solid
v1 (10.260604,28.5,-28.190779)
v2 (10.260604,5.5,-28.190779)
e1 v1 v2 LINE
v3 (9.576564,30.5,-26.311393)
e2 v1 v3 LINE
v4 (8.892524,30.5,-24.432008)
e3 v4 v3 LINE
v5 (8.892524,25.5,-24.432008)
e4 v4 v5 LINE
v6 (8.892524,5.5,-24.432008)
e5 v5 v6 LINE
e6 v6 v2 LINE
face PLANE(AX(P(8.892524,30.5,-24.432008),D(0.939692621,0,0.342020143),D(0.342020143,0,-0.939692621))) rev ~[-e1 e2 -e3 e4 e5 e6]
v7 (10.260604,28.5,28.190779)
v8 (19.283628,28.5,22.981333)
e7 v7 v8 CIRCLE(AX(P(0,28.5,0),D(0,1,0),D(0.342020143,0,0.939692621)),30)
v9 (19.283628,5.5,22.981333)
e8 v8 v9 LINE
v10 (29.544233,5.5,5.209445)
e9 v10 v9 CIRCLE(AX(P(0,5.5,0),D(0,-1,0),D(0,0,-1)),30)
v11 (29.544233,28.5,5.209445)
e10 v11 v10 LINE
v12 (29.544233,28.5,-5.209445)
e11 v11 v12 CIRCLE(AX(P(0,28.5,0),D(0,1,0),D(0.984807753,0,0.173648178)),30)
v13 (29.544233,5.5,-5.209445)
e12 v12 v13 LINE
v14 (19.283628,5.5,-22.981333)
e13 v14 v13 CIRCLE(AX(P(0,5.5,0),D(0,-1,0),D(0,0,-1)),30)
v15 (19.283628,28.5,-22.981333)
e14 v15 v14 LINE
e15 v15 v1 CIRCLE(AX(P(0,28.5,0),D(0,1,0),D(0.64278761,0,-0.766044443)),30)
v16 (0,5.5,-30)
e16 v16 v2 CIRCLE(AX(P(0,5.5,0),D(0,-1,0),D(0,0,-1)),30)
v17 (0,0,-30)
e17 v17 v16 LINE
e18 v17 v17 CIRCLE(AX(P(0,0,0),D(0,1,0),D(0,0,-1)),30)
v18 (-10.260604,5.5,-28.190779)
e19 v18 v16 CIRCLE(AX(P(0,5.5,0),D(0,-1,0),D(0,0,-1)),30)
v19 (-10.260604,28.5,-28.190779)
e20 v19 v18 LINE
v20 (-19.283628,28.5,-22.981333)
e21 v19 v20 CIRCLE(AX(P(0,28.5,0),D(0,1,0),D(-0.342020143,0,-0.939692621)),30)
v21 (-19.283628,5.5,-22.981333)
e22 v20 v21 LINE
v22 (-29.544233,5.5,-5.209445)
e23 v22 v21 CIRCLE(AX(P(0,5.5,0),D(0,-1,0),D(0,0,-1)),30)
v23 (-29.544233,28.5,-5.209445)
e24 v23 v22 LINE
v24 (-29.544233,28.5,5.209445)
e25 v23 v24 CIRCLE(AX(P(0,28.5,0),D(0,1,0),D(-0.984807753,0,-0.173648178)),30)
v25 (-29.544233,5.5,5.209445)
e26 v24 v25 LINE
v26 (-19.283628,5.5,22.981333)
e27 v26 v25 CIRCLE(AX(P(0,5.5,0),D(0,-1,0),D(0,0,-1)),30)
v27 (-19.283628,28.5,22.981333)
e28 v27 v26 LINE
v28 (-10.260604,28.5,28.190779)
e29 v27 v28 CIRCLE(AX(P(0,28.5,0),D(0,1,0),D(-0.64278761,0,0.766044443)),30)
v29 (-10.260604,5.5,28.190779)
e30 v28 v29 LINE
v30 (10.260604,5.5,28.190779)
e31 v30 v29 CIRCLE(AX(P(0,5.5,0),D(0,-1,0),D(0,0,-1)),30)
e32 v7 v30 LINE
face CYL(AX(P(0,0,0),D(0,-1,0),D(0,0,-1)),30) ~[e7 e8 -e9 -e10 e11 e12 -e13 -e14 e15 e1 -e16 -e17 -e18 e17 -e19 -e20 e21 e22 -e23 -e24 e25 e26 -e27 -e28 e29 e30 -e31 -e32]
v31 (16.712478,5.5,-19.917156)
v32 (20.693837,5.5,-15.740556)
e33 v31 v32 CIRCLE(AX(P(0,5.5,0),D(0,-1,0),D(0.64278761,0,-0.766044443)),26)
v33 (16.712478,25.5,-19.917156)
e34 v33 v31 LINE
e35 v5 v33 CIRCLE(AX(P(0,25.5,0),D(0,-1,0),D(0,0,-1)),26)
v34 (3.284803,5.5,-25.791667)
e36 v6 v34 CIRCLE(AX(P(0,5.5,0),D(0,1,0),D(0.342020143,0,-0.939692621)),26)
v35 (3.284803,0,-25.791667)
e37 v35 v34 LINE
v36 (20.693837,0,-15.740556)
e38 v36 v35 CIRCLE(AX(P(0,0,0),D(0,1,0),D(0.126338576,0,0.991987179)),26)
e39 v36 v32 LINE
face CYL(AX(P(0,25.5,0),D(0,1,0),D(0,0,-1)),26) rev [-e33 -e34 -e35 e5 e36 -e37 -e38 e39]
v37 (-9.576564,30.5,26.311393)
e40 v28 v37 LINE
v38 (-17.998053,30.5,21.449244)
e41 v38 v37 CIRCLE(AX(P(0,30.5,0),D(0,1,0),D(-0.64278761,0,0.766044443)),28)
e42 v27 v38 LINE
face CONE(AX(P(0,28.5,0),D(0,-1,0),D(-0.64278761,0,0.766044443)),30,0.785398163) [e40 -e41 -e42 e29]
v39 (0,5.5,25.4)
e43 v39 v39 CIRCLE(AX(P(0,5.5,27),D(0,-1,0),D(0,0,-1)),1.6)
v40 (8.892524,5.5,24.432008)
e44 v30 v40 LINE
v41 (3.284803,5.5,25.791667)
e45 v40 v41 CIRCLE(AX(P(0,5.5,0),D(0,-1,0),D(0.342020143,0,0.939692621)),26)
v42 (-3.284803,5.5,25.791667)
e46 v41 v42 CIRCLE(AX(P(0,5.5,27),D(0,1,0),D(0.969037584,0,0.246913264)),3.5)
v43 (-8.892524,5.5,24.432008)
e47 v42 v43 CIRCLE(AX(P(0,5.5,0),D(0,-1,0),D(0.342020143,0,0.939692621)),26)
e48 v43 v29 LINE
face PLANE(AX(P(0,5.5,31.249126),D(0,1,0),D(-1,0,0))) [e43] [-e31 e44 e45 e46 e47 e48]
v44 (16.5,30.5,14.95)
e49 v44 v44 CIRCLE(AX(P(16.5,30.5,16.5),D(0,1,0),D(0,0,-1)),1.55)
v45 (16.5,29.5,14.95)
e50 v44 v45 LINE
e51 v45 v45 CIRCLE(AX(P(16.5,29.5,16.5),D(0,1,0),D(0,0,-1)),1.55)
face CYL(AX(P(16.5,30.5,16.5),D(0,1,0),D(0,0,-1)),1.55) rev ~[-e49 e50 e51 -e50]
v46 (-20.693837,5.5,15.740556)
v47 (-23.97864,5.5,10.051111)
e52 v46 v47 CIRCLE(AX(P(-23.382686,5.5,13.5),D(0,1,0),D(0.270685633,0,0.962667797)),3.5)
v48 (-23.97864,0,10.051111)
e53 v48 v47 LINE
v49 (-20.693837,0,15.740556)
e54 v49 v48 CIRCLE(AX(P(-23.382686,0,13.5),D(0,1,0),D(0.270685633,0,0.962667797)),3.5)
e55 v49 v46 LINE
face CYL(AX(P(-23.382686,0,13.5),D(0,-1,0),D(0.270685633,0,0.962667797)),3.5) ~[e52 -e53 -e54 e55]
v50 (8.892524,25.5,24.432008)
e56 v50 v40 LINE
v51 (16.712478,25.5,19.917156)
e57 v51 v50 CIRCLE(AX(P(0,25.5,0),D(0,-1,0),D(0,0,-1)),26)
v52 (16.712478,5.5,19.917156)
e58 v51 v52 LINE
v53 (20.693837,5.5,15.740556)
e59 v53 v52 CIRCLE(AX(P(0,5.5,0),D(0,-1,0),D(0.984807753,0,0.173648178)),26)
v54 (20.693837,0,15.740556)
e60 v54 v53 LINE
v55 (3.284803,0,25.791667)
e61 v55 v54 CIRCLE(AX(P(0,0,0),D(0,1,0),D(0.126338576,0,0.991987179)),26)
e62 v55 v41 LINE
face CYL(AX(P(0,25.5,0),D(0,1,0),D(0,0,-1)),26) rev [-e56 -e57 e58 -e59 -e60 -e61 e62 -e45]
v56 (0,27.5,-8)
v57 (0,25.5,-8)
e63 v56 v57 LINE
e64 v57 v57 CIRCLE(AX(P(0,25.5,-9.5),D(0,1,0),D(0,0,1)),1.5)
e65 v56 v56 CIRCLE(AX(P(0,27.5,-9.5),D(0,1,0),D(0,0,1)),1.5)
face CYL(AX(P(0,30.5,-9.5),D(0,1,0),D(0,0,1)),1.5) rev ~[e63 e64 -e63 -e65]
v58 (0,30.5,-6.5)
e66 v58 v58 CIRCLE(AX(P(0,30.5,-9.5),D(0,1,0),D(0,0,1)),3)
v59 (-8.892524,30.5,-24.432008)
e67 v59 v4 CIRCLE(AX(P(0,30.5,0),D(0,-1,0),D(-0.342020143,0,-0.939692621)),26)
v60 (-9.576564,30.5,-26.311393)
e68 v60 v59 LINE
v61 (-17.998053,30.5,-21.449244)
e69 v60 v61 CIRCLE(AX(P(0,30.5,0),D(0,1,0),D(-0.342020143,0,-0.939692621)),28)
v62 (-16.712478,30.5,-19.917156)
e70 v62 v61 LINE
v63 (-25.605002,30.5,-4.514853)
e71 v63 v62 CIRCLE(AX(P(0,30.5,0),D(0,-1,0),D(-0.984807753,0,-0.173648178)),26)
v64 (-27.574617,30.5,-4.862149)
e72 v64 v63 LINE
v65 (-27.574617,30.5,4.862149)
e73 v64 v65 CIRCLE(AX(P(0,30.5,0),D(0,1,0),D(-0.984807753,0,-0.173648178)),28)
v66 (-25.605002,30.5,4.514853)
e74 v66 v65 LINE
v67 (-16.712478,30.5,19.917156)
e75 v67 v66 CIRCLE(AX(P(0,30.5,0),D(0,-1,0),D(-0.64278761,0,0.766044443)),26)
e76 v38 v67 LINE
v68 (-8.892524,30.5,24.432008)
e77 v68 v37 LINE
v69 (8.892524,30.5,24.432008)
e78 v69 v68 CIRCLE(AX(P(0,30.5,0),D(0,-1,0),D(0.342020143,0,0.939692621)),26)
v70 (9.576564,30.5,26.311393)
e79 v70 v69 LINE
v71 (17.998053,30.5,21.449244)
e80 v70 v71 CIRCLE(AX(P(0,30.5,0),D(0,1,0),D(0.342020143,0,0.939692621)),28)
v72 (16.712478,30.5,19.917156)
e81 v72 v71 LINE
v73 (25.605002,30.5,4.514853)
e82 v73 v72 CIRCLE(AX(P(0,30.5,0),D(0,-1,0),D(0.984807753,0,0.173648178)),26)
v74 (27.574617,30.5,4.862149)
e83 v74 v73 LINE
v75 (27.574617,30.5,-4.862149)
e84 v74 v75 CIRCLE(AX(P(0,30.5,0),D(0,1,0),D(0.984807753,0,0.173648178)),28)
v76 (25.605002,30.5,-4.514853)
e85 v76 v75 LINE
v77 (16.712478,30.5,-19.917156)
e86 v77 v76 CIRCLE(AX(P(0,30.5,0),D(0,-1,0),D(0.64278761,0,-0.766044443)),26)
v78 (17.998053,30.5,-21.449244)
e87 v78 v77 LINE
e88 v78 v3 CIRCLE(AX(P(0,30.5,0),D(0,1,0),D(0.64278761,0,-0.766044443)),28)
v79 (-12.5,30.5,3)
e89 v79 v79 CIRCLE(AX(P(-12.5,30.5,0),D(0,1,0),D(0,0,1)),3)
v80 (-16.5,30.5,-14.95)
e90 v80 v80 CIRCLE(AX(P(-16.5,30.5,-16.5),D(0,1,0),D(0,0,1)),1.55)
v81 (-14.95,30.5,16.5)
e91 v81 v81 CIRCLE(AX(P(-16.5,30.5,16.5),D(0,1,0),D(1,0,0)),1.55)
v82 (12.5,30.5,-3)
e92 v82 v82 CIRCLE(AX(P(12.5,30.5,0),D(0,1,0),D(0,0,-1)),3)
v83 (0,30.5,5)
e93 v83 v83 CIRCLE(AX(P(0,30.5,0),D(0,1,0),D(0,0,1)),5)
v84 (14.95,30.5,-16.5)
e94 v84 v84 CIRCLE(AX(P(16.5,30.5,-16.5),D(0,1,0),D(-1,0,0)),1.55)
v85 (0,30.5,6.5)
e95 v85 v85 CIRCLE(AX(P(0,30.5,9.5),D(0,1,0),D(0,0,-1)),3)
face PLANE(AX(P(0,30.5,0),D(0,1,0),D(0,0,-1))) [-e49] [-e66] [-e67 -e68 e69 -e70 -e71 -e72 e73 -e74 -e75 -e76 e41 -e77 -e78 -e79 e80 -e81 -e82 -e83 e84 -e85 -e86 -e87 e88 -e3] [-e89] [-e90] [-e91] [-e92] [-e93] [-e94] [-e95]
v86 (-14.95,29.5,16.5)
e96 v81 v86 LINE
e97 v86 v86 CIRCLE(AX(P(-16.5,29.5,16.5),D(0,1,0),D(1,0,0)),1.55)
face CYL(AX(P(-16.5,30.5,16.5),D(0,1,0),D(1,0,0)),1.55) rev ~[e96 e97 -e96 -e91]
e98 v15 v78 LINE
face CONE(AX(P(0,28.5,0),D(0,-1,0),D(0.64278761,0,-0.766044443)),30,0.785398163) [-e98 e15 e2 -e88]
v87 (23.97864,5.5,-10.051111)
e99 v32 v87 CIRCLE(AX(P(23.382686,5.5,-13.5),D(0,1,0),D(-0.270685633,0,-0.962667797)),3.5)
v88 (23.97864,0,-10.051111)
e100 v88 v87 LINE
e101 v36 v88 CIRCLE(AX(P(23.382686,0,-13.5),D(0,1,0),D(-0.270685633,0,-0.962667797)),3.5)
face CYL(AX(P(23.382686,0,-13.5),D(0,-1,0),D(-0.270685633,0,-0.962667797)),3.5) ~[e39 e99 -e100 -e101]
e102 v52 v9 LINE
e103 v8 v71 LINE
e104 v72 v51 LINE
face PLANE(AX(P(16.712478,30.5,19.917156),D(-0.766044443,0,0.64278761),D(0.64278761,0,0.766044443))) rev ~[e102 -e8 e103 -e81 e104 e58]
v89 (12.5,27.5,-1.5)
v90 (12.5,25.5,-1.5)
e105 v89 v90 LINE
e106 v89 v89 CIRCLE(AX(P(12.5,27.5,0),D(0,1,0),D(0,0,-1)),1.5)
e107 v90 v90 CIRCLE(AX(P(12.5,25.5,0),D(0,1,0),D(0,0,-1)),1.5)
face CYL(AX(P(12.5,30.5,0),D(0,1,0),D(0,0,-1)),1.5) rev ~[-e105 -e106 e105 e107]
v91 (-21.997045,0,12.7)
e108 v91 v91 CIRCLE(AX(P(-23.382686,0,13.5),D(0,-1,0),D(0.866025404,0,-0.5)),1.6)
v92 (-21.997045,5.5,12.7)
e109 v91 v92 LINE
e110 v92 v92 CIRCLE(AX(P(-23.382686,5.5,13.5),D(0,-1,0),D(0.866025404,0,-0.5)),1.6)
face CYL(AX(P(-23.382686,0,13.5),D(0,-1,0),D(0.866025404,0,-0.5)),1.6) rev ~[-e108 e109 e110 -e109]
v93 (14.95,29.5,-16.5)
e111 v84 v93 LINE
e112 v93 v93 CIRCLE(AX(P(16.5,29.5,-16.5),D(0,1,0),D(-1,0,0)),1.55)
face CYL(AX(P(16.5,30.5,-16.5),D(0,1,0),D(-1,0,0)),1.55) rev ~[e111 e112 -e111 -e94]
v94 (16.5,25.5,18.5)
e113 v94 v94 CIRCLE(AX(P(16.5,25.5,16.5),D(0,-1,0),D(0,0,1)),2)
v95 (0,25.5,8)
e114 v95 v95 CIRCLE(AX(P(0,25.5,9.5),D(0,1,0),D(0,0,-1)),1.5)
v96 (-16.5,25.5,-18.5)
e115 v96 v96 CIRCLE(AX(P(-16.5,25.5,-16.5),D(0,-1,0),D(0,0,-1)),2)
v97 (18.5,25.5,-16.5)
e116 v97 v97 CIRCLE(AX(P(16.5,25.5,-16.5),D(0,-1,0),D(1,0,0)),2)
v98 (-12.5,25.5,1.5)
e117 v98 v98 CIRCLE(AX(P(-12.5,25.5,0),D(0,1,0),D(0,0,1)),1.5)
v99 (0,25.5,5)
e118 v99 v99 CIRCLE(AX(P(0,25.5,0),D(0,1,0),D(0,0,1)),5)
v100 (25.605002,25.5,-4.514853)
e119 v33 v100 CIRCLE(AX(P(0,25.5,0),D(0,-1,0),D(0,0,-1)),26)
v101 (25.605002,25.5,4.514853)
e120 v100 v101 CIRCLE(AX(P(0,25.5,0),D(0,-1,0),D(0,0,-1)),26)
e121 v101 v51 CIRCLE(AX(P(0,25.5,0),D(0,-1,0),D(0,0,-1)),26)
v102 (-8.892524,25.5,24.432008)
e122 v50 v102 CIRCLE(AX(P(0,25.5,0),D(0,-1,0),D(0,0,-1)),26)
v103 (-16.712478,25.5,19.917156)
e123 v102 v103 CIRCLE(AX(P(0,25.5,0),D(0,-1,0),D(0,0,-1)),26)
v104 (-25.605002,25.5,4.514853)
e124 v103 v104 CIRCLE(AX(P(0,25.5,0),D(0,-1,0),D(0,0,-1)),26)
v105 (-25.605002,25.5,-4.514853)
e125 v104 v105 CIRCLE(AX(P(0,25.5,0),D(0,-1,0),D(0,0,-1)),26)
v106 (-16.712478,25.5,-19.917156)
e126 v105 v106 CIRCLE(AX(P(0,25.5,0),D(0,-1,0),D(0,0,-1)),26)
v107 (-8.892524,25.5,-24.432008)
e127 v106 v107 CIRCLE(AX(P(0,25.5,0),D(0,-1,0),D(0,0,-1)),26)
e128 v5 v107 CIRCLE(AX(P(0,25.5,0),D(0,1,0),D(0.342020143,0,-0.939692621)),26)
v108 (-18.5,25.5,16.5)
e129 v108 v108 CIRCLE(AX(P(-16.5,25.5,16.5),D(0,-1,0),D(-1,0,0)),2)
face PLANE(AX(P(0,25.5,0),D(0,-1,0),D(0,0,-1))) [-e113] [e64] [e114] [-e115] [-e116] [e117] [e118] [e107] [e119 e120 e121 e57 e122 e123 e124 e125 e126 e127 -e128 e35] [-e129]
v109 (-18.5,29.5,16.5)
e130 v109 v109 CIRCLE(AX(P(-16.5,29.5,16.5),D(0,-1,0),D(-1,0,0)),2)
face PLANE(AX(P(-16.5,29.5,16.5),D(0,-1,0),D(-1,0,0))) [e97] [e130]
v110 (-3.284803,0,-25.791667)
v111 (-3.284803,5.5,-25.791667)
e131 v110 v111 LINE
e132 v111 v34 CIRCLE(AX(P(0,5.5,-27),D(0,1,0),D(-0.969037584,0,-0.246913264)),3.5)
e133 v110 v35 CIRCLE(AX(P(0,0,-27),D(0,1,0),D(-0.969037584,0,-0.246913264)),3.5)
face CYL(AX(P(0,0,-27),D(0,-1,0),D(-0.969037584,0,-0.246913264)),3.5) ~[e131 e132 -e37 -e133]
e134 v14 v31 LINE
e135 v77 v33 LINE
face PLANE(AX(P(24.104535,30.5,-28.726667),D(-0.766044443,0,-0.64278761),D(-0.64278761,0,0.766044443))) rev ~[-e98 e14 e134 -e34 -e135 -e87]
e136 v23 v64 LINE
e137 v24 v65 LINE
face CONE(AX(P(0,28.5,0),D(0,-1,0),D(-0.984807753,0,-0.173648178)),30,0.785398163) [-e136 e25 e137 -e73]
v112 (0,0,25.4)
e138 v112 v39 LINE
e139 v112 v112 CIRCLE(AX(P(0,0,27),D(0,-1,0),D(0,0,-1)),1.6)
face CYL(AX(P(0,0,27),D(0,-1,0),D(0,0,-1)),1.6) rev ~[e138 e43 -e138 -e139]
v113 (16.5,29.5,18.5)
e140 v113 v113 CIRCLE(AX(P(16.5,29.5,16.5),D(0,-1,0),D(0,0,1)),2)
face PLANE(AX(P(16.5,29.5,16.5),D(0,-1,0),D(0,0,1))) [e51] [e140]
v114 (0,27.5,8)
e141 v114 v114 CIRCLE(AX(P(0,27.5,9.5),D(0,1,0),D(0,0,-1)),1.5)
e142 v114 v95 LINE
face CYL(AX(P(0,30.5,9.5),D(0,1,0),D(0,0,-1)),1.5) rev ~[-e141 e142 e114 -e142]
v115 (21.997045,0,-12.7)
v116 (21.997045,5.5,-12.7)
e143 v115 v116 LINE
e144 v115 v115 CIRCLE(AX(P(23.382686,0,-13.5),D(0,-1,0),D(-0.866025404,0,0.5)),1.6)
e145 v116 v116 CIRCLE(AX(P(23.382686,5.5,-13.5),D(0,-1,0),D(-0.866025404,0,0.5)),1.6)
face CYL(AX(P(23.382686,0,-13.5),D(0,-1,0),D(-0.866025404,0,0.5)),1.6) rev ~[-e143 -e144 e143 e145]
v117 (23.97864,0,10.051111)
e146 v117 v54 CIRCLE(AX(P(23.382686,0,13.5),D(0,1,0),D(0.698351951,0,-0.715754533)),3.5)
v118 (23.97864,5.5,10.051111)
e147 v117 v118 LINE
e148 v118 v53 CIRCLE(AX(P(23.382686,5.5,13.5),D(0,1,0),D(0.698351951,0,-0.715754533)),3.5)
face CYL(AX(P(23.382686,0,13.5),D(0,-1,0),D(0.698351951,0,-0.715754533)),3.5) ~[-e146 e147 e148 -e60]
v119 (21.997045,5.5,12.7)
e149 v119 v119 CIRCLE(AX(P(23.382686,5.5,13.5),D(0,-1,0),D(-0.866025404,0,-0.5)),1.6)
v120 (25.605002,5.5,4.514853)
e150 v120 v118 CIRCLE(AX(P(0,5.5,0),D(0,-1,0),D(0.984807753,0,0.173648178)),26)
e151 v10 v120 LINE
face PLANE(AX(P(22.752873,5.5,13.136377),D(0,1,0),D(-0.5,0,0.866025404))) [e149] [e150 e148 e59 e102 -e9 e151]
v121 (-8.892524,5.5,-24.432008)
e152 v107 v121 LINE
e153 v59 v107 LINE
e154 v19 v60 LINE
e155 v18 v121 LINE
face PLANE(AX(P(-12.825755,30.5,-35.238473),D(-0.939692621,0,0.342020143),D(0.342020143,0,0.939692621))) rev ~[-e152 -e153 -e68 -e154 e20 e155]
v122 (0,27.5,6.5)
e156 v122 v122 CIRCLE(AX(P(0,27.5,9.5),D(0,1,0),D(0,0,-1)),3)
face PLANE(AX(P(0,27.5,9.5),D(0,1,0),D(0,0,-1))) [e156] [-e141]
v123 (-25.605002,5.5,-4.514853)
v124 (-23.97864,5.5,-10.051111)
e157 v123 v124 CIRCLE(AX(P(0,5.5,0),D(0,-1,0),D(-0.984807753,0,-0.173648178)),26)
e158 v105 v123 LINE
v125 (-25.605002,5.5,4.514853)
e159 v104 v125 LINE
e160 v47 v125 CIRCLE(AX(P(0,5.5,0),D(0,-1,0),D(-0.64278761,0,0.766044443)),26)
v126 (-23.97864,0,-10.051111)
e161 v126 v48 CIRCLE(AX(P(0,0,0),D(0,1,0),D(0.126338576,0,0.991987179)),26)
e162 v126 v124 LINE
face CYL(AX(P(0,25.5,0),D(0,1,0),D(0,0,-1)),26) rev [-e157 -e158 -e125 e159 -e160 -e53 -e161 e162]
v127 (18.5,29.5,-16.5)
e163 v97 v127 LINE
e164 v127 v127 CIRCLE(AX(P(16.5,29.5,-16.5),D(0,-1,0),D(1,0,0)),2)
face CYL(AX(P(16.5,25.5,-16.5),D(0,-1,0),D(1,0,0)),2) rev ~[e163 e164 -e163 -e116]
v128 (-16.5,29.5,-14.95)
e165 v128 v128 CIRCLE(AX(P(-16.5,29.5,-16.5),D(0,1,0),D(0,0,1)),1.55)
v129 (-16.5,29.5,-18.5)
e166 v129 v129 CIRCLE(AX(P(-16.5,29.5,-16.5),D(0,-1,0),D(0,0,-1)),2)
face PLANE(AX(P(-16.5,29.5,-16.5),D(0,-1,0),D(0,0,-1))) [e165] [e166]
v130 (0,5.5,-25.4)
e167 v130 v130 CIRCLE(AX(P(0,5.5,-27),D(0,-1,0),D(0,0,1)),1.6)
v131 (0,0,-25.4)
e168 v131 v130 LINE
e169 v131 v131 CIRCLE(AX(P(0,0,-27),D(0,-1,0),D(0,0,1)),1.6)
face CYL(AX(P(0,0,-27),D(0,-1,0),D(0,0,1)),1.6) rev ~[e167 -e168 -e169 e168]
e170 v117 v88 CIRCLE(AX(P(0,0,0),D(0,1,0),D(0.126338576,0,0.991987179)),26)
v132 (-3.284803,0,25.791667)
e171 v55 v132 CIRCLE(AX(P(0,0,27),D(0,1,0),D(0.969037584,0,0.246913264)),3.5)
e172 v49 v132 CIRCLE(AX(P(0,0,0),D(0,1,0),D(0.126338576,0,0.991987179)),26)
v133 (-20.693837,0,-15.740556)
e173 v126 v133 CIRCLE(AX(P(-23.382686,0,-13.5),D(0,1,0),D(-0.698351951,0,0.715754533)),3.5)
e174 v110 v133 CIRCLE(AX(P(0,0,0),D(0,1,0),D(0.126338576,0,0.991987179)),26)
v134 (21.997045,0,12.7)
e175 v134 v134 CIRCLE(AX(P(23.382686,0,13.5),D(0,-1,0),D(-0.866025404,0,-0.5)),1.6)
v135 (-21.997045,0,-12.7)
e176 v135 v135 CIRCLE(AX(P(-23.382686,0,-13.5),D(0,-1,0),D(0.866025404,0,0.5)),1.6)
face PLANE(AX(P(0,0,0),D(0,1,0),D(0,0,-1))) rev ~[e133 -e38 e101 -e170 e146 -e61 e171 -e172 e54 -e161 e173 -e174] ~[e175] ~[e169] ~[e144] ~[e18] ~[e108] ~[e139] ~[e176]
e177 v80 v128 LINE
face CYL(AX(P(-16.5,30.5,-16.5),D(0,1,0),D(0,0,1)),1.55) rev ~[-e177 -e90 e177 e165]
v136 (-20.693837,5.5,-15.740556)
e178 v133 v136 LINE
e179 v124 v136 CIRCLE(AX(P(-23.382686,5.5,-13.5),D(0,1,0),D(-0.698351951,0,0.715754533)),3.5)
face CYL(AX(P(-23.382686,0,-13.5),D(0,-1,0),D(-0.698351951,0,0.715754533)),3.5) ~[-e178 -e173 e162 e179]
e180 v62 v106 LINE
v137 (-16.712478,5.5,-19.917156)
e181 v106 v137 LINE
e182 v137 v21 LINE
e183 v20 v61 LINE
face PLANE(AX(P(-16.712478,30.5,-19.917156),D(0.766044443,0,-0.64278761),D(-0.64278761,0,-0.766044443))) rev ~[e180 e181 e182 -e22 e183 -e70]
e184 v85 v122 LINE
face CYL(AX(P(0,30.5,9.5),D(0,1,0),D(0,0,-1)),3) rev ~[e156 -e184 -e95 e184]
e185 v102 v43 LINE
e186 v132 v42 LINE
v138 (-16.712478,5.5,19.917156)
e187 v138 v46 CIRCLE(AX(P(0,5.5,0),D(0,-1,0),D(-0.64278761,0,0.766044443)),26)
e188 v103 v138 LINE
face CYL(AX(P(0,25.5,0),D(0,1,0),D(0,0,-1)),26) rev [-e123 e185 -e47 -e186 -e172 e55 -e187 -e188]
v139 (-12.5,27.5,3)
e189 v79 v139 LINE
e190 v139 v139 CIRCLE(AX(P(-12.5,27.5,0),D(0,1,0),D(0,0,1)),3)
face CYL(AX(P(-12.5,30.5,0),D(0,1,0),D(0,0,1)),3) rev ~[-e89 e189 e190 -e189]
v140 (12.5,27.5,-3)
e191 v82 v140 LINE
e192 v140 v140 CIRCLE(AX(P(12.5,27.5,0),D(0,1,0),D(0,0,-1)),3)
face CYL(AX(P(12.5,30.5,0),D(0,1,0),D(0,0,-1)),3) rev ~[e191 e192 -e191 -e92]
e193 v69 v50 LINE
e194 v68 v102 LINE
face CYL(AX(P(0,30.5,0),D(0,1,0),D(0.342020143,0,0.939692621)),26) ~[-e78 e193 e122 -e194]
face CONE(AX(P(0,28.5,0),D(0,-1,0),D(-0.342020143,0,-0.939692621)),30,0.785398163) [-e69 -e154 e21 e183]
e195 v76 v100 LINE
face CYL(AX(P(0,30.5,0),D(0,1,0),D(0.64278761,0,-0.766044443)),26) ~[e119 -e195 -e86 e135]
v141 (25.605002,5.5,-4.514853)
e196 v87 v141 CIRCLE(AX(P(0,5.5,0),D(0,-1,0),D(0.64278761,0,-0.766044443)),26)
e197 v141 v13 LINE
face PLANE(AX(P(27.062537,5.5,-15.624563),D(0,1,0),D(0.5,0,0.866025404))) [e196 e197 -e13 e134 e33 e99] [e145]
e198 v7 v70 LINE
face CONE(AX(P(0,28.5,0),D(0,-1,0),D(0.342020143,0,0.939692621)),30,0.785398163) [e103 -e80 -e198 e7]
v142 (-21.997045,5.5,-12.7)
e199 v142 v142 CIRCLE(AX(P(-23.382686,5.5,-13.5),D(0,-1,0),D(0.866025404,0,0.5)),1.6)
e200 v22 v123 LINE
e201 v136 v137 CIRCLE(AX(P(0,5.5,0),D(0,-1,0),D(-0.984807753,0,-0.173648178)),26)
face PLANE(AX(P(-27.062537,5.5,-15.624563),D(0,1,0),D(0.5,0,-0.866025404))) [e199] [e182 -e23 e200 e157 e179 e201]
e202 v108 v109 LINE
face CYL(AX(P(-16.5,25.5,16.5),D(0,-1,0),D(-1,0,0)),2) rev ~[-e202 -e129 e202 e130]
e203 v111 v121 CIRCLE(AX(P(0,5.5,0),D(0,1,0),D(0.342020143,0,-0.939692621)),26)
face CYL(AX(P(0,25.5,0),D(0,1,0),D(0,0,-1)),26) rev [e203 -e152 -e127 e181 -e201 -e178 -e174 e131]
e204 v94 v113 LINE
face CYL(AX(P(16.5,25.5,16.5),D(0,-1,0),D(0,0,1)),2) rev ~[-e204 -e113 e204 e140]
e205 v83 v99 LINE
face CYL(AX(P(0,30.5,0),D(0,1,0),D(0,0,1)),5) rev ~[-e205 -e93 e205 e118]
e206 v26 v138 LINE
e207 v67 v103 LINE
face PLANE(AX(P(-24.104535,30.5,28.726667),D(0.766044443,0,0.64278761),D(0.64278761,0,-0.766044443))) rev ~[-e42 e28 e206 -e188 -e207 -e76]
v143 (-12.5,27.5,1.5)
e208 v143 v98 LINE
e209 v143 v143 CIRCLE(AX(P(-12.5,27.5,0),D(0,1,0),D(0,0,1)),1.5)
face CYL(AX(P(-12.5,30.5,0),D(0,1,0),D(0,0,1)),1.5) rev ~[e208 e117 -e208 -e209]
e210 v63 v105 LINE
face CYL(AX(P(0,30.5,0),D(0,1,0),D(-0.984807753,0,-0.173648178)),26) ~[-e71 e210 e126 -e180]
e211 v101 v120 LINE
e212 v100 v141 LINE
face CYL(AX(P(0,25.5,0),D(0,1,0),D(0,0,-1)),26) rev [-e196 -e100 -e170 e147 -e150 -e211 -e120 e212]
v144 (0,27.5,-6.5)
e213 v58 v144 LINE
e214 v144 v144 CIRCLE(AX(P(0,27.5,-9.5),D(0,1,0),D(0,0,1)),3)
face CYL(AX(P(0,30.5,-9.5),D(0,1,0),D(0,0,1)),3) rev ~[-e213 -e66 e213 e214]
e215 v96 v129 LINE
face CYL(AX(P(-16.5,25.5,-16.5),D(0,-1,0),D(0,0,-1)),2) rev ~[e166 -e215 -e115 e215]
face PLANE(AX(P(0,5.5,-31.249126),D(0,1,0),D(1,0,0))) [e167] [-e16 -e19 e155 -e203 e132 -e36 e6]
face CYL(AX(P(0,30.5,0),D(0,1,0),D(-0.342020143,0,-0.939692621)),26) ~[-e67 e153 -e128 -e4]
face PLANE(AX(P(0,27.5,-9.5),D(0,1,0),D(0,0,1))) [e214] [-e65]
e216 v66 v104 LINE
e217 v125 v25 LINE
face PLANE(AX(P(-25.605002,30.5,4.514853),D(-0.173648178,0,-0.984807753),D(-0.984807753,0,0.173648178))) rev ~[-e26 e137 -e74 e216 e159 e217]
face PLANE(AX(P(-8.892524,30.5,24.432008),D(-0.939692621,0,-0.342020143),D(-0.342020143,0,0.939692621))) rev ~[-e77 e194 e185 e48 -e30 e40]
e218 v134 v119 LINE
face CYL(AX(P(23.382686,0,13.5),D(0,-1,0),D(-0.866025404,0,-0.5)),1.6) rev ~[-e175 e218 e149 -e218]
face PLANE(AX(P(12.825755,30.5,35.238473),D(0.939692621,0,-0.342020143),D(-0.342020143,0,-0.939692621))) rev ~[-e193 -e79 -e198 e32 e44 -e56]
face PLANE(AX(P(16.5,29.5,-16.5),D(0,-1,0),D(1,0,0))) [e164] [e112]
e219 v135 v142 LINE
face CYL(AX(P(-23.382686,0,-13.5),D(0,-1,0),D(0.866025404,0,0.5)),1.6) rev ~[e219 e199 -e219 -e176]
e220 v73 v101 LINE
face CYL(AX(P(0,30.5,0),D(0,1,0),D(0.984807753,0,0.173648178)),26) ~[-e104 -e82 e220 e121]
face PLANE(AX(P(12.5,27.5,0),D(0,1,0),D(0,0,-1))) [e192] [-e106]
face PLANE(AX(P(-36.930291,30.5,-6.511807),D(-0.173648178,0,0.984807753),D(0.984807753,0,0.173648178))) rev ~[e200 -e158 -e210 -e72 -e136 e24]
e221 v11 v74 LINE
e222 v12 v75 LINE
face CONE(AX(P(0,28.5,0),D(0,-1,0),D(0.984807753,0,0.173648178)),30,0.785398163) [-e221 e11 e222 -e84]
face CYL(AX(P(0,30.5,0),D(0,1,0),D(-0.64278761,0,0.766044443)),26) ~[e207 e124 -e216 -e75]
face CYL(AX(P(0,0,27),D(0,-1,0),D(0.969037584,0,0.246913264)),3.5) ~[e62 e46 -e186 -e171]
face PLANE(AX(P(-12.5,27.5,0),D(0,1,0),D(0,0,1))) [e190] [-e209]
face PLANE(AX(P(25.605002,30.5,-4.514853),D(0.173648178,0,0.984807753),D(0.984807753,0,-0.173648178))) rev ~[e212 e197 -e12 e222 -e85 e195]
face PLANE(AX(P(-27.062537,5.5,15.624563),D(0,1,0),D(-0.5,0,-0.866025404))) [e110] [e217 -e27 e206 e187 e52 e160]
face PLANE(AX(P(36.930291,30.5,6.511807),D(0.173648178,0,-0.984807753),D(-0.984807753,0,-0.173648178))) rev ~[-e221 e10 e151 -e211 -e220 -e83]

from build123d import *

# Parameters (mm, degrees)
SKETCH1_R           = 30
BOSS_EXTRUDE1_DEPTH = 30.5
SKETCH4_R           = 5
CUT_EXTRUDE2_DEPTH  = 30.5
CUT_EXTRUDE3_DEPTH  = 25
CIRPATTERN1_COUNT   = 6
CUT_EXTRUDE4_START  = -25.5
SKETCH13_R          = 26
CUT_EXTRUDE4_DEPTH  = 25.5
CHAMFER1_SIZE       = 2
BOSS_EXTRUDE2_DEPTH = 5.5
SKETCH17_R          = 1.6
CUT_EXTRUDE5_DEPTH  = 5.5
CIRPATTERN2_COUNT   = 6
SKETCH19_R          = 1.55
CUT_EXTRUDE6_DEPTH  = 5
SKETCH20_R          = 2
CUT_EXTRUDE7_DEPTH  = 4
CIRPATTERN3_COUNT   = 4
SKETCH21_R          = 1.5
CUT_EXTRUDE8_DEPTH  = 5
SKETCH22_R          = 1.5
CUT_EXTRUDE9_DEPTH  = 5
SKETCH23_R          = 3
CUT_EXTRUDE10_DEPTH = 3
CIRPATTERN5_COUNT   = 2


with BuildPart() as part:
    # Sketch1 → Boss-Extrude1 (new body)
    with BuildSketch(Plane(origin=(0, 0, 0), x_dir=(1, 0, 0), z_dir=(0, 1, 0))):
        with Locations(Location((0, 0, 0), (0, 0, 90))):
            Circle(SKETCH1_R)
    extrude(amount=BOSS_EXTRUDE1_DEPTH)

    # Sketch4 → Cut-Extrude2 (cut)
    with BuildSketch(Plane(origin=(0, 30.5, 0), x_dir=(1, 0, 0), z_dir=(0, 1, 0))):
        with Locations(Location((0, 0, 0), (0, 0, 270))):
            Circle(SKETCH4_R)
    extrude(amount=-CUT_EXTRUDE2_DEPTH, mode=Mode.SUBTRACT)

    # Sketch5 → Cut-Extrude3 (cut)
    with BuildSketch(Plane(origin=(0, 30.5, 0), x_dir=(1, 0, 0), z_dir=(0, 1, 0))):
        with BuildLine():
            Line((-12.825755375, 35.238473279), (-8.892523726, 24.43200814))
            ThreePointArc((-8.892523726, 24.43200814), (0, 26), (8.892523726, 24.43200814))
            Line((8.892523726, 24.43200814), (12.825755375, 35.238473279))
            ThreePointArc((12.825755375, 35.238473279), (0, 37.5), (-12.825755375, 35.238473279))
        make_face()
    cut_extrude3 = extrude(amount=-CUT_EXTRUDE3_DEPTH, mode=Mode.SUBTRACT)

    # CirPattern1: Cut-Extrude3 ×6 about axis
    cirpattern1_axis = Axis((0, 0, 0), (0, 1, 0))
    for i in range(1, CIRPATTERN1_COUNT):
        add(cut_extrude3.rotate(cirpattern1_axis, i * 360 / CIRPATTERN1_COUNT), mode=Mode.SUBTRACT)

    # Sketch13 → Cut-Extrude4 (cut)
    with BuildSketch(Plane.XZ.offset(CUT_EXTRUDE4_START)):
        with Locations(Location((0, 0, 0), (0, 0, 270))):
            Circle(SKETCH13_R)
    extrude(amount=CUT_EXTRUDE4_DEPTH, mode=Mode.SUBTRACT)

    # Chamfer1
    chamfer1_edges = [part.edges().sort_by_distance(p)[0] for p in [
        (-15, 30.5, -25.980762114),
        (-30, 30.5, 0),
        (-15, 30.5, 25.980762114),
        (15, 30.5, 25.980762114),
        (30, 30.5, 0),
        (15, 30.5, -25.980762114),
    ]]
    chamfer(chamfer1_edges, length=CHAMFER1_SIZE)

    # Sketch15 → Boss-Extrude2 (add)
    with BuildSketch(Plane.XZ):
        with BuildLine():
            Line((-3.391631546, 27.864196424), (3.391631546, 27.864196424))
            ThreePointArc((3.391631546, 27.864196424), (0, 23.5), (-3.391631546, 27.864196424))
        make_face()
    boss_extrude2 = extrude(amount=-BOSS_EXTRUDE2_DEPTH)

    # Sketch17 → Cut-Extrude5 (cut)
    with BuildSketch(Plane.XZ):
        with Locations(Location((0, 27, 0), (0, 0, 270))):
            Circle(SKETCH17_R)
    cut_extrude5 = extrude(amount=-CUT_EXTRUDE5_DEPTH, mode=Mode.SUBTRACT)

    # CirPattern2: Boss-Extrude2, Cut-Extrude5 ×6 about axis
    cirpattern2_axis = Axis((0, 0, 0), (0, 1, 0))
    add([boss_extrude2.rotate(cirpattern2_axis, i * 360 / CIRPATTERN2_COUNT) for i in range(1, CIRPATTERN2_COUNT)])
    add([cut_extrude5.rotate(cirpattern2_axis, i * 360 / CIRPATTERN2_COUNT) for i in range(1, CIRPATTERN2_COUNT)], mode=Mode.SUBTRACT)

    # Sketch19 → Cut-Extrude6 (cut)
    with BuildSketch(Plane(origin=(0, 30.5, 0), x_dir=(1, 0, 0), z_dir=(0, 1, 0))):
        with Locations(Location((-16.5, 16.5, 0), (0, 0, 270))):
            Circle(SKETCH19_R)
    cut_extrude6 = extrude(amount=-CUT_EXTRUDE6_DEPTH, mode=Mode.SUBTRACT)

    # Sketch20 → Cut-Extrude7 (cut)
    with BuildSketch(Plane.XZ.offset(-25.5)):
        with Locations(Location((-16.5, -16.5, 0), (0, 0, 270))):
            Circle(SKETCH20_R)
    cut_extrude7 = extrude(amount=-CUT_EXTRUDE7_DEPTH, mode=Mode.SUBTRACT)

    # CirPattern3: Cut-Extrude6, Cut-Extrude7 ×4 about axis
    cirpattern3_axis = Axis((0, 0, 0), (0, 1, 0))
    add([cut_extrude6.rotate(cirpattern3_axis, i * 360 / CIRPATTERN3_COUNT) for i in range(1, CIRPATTERN3_COUNT)], mode=Mode.SUBTRACT)
    add([cut_extrude7.rotate(cirpattern3_axis, i * 360 / CIRPATTERN3_COUNT) for i in range(1, CIRPATTERN3_COUNT)], mode=Mode.SUBTRACT)

    # Sketch21 → Cut-Extrude8 (cut)
    with BuildSketch(Plane(origin=(0, 30.5, 0), x_dir=(1, 0, 0), z_dir=(0, 1, 0))):
        with Locations(Location((0, 9.5, 0), (0, 0, 270))):
            Circle(SKETCH21_R)
    cut_extrude8 = extrude(amount=-CUT_EXTRUDE8_DEPTH, mode=Mode.SUBTRACT)

    # Sketch22 → Cut-Extrude9 (cut)
    with BuildSketch(Plane(origin=(0, 30.5, 0), x_dir=(1, 0, 0), z_dir=(0, 1, 0))):
        with Locations(Location((-12.5, 0, 0), (0, 0, 270))):
            Circle(SKETCH22_R)
    cut_extrude9 = extrude(amount=-CUT_EXTRUDE9_DEPTH, mode=Mode.SUBTRACT)

    # Sketch23 → Cut-Extrude10 (cut)
    with BuildSketch(Plane(origin=(0, 30.5, 0), x_dir=(1, 0, 0), z_dir=(0, 1, 0))):
        with Locations(Location((0, 9.5, 0), (0, 0, 270))):
            Circle(SKETCH23_R)
        with Locations(Location((-12.5, 0, 0), (0, 0, 270))):
            Circle(SKETCH23_R)
    cut_extrude10 = extrude(amount=-CUT_EXTRUDE10_DEPTH, mode=Mode.SUBTRACT)

    # CirPattern5: Cut-Extrude8, Cut-Extrude9, Cut-Extrude10 ×2 about axis
    cirpattern5_axis = Axis((0, 0, 0), (0, 1, 0))
    add([cut_extrude8.rotate(cirpattern5_axis, i * 360 / CIRPATTERN5_COUNT) for i in range(1, CIRPATTERN5_COUNT)], mode=Mode.SUBTRACT)
    add([cut_extrude9.rotate(cirpattern5_axis, i * 360 / CIRPATTERN5_COUNT) for i in range(1, CIRPATTERN5_COUNT)], mode=Mode.SUBTRACT)
    add([cut_extrude10.rotate(cirpattern5_axis, i * 360 / CIRPATTERN5_COUNT) for i in range(1, CIRPATTERN5_COUNT)], mode=Mode.SUBTRACT)


solid = part.part
